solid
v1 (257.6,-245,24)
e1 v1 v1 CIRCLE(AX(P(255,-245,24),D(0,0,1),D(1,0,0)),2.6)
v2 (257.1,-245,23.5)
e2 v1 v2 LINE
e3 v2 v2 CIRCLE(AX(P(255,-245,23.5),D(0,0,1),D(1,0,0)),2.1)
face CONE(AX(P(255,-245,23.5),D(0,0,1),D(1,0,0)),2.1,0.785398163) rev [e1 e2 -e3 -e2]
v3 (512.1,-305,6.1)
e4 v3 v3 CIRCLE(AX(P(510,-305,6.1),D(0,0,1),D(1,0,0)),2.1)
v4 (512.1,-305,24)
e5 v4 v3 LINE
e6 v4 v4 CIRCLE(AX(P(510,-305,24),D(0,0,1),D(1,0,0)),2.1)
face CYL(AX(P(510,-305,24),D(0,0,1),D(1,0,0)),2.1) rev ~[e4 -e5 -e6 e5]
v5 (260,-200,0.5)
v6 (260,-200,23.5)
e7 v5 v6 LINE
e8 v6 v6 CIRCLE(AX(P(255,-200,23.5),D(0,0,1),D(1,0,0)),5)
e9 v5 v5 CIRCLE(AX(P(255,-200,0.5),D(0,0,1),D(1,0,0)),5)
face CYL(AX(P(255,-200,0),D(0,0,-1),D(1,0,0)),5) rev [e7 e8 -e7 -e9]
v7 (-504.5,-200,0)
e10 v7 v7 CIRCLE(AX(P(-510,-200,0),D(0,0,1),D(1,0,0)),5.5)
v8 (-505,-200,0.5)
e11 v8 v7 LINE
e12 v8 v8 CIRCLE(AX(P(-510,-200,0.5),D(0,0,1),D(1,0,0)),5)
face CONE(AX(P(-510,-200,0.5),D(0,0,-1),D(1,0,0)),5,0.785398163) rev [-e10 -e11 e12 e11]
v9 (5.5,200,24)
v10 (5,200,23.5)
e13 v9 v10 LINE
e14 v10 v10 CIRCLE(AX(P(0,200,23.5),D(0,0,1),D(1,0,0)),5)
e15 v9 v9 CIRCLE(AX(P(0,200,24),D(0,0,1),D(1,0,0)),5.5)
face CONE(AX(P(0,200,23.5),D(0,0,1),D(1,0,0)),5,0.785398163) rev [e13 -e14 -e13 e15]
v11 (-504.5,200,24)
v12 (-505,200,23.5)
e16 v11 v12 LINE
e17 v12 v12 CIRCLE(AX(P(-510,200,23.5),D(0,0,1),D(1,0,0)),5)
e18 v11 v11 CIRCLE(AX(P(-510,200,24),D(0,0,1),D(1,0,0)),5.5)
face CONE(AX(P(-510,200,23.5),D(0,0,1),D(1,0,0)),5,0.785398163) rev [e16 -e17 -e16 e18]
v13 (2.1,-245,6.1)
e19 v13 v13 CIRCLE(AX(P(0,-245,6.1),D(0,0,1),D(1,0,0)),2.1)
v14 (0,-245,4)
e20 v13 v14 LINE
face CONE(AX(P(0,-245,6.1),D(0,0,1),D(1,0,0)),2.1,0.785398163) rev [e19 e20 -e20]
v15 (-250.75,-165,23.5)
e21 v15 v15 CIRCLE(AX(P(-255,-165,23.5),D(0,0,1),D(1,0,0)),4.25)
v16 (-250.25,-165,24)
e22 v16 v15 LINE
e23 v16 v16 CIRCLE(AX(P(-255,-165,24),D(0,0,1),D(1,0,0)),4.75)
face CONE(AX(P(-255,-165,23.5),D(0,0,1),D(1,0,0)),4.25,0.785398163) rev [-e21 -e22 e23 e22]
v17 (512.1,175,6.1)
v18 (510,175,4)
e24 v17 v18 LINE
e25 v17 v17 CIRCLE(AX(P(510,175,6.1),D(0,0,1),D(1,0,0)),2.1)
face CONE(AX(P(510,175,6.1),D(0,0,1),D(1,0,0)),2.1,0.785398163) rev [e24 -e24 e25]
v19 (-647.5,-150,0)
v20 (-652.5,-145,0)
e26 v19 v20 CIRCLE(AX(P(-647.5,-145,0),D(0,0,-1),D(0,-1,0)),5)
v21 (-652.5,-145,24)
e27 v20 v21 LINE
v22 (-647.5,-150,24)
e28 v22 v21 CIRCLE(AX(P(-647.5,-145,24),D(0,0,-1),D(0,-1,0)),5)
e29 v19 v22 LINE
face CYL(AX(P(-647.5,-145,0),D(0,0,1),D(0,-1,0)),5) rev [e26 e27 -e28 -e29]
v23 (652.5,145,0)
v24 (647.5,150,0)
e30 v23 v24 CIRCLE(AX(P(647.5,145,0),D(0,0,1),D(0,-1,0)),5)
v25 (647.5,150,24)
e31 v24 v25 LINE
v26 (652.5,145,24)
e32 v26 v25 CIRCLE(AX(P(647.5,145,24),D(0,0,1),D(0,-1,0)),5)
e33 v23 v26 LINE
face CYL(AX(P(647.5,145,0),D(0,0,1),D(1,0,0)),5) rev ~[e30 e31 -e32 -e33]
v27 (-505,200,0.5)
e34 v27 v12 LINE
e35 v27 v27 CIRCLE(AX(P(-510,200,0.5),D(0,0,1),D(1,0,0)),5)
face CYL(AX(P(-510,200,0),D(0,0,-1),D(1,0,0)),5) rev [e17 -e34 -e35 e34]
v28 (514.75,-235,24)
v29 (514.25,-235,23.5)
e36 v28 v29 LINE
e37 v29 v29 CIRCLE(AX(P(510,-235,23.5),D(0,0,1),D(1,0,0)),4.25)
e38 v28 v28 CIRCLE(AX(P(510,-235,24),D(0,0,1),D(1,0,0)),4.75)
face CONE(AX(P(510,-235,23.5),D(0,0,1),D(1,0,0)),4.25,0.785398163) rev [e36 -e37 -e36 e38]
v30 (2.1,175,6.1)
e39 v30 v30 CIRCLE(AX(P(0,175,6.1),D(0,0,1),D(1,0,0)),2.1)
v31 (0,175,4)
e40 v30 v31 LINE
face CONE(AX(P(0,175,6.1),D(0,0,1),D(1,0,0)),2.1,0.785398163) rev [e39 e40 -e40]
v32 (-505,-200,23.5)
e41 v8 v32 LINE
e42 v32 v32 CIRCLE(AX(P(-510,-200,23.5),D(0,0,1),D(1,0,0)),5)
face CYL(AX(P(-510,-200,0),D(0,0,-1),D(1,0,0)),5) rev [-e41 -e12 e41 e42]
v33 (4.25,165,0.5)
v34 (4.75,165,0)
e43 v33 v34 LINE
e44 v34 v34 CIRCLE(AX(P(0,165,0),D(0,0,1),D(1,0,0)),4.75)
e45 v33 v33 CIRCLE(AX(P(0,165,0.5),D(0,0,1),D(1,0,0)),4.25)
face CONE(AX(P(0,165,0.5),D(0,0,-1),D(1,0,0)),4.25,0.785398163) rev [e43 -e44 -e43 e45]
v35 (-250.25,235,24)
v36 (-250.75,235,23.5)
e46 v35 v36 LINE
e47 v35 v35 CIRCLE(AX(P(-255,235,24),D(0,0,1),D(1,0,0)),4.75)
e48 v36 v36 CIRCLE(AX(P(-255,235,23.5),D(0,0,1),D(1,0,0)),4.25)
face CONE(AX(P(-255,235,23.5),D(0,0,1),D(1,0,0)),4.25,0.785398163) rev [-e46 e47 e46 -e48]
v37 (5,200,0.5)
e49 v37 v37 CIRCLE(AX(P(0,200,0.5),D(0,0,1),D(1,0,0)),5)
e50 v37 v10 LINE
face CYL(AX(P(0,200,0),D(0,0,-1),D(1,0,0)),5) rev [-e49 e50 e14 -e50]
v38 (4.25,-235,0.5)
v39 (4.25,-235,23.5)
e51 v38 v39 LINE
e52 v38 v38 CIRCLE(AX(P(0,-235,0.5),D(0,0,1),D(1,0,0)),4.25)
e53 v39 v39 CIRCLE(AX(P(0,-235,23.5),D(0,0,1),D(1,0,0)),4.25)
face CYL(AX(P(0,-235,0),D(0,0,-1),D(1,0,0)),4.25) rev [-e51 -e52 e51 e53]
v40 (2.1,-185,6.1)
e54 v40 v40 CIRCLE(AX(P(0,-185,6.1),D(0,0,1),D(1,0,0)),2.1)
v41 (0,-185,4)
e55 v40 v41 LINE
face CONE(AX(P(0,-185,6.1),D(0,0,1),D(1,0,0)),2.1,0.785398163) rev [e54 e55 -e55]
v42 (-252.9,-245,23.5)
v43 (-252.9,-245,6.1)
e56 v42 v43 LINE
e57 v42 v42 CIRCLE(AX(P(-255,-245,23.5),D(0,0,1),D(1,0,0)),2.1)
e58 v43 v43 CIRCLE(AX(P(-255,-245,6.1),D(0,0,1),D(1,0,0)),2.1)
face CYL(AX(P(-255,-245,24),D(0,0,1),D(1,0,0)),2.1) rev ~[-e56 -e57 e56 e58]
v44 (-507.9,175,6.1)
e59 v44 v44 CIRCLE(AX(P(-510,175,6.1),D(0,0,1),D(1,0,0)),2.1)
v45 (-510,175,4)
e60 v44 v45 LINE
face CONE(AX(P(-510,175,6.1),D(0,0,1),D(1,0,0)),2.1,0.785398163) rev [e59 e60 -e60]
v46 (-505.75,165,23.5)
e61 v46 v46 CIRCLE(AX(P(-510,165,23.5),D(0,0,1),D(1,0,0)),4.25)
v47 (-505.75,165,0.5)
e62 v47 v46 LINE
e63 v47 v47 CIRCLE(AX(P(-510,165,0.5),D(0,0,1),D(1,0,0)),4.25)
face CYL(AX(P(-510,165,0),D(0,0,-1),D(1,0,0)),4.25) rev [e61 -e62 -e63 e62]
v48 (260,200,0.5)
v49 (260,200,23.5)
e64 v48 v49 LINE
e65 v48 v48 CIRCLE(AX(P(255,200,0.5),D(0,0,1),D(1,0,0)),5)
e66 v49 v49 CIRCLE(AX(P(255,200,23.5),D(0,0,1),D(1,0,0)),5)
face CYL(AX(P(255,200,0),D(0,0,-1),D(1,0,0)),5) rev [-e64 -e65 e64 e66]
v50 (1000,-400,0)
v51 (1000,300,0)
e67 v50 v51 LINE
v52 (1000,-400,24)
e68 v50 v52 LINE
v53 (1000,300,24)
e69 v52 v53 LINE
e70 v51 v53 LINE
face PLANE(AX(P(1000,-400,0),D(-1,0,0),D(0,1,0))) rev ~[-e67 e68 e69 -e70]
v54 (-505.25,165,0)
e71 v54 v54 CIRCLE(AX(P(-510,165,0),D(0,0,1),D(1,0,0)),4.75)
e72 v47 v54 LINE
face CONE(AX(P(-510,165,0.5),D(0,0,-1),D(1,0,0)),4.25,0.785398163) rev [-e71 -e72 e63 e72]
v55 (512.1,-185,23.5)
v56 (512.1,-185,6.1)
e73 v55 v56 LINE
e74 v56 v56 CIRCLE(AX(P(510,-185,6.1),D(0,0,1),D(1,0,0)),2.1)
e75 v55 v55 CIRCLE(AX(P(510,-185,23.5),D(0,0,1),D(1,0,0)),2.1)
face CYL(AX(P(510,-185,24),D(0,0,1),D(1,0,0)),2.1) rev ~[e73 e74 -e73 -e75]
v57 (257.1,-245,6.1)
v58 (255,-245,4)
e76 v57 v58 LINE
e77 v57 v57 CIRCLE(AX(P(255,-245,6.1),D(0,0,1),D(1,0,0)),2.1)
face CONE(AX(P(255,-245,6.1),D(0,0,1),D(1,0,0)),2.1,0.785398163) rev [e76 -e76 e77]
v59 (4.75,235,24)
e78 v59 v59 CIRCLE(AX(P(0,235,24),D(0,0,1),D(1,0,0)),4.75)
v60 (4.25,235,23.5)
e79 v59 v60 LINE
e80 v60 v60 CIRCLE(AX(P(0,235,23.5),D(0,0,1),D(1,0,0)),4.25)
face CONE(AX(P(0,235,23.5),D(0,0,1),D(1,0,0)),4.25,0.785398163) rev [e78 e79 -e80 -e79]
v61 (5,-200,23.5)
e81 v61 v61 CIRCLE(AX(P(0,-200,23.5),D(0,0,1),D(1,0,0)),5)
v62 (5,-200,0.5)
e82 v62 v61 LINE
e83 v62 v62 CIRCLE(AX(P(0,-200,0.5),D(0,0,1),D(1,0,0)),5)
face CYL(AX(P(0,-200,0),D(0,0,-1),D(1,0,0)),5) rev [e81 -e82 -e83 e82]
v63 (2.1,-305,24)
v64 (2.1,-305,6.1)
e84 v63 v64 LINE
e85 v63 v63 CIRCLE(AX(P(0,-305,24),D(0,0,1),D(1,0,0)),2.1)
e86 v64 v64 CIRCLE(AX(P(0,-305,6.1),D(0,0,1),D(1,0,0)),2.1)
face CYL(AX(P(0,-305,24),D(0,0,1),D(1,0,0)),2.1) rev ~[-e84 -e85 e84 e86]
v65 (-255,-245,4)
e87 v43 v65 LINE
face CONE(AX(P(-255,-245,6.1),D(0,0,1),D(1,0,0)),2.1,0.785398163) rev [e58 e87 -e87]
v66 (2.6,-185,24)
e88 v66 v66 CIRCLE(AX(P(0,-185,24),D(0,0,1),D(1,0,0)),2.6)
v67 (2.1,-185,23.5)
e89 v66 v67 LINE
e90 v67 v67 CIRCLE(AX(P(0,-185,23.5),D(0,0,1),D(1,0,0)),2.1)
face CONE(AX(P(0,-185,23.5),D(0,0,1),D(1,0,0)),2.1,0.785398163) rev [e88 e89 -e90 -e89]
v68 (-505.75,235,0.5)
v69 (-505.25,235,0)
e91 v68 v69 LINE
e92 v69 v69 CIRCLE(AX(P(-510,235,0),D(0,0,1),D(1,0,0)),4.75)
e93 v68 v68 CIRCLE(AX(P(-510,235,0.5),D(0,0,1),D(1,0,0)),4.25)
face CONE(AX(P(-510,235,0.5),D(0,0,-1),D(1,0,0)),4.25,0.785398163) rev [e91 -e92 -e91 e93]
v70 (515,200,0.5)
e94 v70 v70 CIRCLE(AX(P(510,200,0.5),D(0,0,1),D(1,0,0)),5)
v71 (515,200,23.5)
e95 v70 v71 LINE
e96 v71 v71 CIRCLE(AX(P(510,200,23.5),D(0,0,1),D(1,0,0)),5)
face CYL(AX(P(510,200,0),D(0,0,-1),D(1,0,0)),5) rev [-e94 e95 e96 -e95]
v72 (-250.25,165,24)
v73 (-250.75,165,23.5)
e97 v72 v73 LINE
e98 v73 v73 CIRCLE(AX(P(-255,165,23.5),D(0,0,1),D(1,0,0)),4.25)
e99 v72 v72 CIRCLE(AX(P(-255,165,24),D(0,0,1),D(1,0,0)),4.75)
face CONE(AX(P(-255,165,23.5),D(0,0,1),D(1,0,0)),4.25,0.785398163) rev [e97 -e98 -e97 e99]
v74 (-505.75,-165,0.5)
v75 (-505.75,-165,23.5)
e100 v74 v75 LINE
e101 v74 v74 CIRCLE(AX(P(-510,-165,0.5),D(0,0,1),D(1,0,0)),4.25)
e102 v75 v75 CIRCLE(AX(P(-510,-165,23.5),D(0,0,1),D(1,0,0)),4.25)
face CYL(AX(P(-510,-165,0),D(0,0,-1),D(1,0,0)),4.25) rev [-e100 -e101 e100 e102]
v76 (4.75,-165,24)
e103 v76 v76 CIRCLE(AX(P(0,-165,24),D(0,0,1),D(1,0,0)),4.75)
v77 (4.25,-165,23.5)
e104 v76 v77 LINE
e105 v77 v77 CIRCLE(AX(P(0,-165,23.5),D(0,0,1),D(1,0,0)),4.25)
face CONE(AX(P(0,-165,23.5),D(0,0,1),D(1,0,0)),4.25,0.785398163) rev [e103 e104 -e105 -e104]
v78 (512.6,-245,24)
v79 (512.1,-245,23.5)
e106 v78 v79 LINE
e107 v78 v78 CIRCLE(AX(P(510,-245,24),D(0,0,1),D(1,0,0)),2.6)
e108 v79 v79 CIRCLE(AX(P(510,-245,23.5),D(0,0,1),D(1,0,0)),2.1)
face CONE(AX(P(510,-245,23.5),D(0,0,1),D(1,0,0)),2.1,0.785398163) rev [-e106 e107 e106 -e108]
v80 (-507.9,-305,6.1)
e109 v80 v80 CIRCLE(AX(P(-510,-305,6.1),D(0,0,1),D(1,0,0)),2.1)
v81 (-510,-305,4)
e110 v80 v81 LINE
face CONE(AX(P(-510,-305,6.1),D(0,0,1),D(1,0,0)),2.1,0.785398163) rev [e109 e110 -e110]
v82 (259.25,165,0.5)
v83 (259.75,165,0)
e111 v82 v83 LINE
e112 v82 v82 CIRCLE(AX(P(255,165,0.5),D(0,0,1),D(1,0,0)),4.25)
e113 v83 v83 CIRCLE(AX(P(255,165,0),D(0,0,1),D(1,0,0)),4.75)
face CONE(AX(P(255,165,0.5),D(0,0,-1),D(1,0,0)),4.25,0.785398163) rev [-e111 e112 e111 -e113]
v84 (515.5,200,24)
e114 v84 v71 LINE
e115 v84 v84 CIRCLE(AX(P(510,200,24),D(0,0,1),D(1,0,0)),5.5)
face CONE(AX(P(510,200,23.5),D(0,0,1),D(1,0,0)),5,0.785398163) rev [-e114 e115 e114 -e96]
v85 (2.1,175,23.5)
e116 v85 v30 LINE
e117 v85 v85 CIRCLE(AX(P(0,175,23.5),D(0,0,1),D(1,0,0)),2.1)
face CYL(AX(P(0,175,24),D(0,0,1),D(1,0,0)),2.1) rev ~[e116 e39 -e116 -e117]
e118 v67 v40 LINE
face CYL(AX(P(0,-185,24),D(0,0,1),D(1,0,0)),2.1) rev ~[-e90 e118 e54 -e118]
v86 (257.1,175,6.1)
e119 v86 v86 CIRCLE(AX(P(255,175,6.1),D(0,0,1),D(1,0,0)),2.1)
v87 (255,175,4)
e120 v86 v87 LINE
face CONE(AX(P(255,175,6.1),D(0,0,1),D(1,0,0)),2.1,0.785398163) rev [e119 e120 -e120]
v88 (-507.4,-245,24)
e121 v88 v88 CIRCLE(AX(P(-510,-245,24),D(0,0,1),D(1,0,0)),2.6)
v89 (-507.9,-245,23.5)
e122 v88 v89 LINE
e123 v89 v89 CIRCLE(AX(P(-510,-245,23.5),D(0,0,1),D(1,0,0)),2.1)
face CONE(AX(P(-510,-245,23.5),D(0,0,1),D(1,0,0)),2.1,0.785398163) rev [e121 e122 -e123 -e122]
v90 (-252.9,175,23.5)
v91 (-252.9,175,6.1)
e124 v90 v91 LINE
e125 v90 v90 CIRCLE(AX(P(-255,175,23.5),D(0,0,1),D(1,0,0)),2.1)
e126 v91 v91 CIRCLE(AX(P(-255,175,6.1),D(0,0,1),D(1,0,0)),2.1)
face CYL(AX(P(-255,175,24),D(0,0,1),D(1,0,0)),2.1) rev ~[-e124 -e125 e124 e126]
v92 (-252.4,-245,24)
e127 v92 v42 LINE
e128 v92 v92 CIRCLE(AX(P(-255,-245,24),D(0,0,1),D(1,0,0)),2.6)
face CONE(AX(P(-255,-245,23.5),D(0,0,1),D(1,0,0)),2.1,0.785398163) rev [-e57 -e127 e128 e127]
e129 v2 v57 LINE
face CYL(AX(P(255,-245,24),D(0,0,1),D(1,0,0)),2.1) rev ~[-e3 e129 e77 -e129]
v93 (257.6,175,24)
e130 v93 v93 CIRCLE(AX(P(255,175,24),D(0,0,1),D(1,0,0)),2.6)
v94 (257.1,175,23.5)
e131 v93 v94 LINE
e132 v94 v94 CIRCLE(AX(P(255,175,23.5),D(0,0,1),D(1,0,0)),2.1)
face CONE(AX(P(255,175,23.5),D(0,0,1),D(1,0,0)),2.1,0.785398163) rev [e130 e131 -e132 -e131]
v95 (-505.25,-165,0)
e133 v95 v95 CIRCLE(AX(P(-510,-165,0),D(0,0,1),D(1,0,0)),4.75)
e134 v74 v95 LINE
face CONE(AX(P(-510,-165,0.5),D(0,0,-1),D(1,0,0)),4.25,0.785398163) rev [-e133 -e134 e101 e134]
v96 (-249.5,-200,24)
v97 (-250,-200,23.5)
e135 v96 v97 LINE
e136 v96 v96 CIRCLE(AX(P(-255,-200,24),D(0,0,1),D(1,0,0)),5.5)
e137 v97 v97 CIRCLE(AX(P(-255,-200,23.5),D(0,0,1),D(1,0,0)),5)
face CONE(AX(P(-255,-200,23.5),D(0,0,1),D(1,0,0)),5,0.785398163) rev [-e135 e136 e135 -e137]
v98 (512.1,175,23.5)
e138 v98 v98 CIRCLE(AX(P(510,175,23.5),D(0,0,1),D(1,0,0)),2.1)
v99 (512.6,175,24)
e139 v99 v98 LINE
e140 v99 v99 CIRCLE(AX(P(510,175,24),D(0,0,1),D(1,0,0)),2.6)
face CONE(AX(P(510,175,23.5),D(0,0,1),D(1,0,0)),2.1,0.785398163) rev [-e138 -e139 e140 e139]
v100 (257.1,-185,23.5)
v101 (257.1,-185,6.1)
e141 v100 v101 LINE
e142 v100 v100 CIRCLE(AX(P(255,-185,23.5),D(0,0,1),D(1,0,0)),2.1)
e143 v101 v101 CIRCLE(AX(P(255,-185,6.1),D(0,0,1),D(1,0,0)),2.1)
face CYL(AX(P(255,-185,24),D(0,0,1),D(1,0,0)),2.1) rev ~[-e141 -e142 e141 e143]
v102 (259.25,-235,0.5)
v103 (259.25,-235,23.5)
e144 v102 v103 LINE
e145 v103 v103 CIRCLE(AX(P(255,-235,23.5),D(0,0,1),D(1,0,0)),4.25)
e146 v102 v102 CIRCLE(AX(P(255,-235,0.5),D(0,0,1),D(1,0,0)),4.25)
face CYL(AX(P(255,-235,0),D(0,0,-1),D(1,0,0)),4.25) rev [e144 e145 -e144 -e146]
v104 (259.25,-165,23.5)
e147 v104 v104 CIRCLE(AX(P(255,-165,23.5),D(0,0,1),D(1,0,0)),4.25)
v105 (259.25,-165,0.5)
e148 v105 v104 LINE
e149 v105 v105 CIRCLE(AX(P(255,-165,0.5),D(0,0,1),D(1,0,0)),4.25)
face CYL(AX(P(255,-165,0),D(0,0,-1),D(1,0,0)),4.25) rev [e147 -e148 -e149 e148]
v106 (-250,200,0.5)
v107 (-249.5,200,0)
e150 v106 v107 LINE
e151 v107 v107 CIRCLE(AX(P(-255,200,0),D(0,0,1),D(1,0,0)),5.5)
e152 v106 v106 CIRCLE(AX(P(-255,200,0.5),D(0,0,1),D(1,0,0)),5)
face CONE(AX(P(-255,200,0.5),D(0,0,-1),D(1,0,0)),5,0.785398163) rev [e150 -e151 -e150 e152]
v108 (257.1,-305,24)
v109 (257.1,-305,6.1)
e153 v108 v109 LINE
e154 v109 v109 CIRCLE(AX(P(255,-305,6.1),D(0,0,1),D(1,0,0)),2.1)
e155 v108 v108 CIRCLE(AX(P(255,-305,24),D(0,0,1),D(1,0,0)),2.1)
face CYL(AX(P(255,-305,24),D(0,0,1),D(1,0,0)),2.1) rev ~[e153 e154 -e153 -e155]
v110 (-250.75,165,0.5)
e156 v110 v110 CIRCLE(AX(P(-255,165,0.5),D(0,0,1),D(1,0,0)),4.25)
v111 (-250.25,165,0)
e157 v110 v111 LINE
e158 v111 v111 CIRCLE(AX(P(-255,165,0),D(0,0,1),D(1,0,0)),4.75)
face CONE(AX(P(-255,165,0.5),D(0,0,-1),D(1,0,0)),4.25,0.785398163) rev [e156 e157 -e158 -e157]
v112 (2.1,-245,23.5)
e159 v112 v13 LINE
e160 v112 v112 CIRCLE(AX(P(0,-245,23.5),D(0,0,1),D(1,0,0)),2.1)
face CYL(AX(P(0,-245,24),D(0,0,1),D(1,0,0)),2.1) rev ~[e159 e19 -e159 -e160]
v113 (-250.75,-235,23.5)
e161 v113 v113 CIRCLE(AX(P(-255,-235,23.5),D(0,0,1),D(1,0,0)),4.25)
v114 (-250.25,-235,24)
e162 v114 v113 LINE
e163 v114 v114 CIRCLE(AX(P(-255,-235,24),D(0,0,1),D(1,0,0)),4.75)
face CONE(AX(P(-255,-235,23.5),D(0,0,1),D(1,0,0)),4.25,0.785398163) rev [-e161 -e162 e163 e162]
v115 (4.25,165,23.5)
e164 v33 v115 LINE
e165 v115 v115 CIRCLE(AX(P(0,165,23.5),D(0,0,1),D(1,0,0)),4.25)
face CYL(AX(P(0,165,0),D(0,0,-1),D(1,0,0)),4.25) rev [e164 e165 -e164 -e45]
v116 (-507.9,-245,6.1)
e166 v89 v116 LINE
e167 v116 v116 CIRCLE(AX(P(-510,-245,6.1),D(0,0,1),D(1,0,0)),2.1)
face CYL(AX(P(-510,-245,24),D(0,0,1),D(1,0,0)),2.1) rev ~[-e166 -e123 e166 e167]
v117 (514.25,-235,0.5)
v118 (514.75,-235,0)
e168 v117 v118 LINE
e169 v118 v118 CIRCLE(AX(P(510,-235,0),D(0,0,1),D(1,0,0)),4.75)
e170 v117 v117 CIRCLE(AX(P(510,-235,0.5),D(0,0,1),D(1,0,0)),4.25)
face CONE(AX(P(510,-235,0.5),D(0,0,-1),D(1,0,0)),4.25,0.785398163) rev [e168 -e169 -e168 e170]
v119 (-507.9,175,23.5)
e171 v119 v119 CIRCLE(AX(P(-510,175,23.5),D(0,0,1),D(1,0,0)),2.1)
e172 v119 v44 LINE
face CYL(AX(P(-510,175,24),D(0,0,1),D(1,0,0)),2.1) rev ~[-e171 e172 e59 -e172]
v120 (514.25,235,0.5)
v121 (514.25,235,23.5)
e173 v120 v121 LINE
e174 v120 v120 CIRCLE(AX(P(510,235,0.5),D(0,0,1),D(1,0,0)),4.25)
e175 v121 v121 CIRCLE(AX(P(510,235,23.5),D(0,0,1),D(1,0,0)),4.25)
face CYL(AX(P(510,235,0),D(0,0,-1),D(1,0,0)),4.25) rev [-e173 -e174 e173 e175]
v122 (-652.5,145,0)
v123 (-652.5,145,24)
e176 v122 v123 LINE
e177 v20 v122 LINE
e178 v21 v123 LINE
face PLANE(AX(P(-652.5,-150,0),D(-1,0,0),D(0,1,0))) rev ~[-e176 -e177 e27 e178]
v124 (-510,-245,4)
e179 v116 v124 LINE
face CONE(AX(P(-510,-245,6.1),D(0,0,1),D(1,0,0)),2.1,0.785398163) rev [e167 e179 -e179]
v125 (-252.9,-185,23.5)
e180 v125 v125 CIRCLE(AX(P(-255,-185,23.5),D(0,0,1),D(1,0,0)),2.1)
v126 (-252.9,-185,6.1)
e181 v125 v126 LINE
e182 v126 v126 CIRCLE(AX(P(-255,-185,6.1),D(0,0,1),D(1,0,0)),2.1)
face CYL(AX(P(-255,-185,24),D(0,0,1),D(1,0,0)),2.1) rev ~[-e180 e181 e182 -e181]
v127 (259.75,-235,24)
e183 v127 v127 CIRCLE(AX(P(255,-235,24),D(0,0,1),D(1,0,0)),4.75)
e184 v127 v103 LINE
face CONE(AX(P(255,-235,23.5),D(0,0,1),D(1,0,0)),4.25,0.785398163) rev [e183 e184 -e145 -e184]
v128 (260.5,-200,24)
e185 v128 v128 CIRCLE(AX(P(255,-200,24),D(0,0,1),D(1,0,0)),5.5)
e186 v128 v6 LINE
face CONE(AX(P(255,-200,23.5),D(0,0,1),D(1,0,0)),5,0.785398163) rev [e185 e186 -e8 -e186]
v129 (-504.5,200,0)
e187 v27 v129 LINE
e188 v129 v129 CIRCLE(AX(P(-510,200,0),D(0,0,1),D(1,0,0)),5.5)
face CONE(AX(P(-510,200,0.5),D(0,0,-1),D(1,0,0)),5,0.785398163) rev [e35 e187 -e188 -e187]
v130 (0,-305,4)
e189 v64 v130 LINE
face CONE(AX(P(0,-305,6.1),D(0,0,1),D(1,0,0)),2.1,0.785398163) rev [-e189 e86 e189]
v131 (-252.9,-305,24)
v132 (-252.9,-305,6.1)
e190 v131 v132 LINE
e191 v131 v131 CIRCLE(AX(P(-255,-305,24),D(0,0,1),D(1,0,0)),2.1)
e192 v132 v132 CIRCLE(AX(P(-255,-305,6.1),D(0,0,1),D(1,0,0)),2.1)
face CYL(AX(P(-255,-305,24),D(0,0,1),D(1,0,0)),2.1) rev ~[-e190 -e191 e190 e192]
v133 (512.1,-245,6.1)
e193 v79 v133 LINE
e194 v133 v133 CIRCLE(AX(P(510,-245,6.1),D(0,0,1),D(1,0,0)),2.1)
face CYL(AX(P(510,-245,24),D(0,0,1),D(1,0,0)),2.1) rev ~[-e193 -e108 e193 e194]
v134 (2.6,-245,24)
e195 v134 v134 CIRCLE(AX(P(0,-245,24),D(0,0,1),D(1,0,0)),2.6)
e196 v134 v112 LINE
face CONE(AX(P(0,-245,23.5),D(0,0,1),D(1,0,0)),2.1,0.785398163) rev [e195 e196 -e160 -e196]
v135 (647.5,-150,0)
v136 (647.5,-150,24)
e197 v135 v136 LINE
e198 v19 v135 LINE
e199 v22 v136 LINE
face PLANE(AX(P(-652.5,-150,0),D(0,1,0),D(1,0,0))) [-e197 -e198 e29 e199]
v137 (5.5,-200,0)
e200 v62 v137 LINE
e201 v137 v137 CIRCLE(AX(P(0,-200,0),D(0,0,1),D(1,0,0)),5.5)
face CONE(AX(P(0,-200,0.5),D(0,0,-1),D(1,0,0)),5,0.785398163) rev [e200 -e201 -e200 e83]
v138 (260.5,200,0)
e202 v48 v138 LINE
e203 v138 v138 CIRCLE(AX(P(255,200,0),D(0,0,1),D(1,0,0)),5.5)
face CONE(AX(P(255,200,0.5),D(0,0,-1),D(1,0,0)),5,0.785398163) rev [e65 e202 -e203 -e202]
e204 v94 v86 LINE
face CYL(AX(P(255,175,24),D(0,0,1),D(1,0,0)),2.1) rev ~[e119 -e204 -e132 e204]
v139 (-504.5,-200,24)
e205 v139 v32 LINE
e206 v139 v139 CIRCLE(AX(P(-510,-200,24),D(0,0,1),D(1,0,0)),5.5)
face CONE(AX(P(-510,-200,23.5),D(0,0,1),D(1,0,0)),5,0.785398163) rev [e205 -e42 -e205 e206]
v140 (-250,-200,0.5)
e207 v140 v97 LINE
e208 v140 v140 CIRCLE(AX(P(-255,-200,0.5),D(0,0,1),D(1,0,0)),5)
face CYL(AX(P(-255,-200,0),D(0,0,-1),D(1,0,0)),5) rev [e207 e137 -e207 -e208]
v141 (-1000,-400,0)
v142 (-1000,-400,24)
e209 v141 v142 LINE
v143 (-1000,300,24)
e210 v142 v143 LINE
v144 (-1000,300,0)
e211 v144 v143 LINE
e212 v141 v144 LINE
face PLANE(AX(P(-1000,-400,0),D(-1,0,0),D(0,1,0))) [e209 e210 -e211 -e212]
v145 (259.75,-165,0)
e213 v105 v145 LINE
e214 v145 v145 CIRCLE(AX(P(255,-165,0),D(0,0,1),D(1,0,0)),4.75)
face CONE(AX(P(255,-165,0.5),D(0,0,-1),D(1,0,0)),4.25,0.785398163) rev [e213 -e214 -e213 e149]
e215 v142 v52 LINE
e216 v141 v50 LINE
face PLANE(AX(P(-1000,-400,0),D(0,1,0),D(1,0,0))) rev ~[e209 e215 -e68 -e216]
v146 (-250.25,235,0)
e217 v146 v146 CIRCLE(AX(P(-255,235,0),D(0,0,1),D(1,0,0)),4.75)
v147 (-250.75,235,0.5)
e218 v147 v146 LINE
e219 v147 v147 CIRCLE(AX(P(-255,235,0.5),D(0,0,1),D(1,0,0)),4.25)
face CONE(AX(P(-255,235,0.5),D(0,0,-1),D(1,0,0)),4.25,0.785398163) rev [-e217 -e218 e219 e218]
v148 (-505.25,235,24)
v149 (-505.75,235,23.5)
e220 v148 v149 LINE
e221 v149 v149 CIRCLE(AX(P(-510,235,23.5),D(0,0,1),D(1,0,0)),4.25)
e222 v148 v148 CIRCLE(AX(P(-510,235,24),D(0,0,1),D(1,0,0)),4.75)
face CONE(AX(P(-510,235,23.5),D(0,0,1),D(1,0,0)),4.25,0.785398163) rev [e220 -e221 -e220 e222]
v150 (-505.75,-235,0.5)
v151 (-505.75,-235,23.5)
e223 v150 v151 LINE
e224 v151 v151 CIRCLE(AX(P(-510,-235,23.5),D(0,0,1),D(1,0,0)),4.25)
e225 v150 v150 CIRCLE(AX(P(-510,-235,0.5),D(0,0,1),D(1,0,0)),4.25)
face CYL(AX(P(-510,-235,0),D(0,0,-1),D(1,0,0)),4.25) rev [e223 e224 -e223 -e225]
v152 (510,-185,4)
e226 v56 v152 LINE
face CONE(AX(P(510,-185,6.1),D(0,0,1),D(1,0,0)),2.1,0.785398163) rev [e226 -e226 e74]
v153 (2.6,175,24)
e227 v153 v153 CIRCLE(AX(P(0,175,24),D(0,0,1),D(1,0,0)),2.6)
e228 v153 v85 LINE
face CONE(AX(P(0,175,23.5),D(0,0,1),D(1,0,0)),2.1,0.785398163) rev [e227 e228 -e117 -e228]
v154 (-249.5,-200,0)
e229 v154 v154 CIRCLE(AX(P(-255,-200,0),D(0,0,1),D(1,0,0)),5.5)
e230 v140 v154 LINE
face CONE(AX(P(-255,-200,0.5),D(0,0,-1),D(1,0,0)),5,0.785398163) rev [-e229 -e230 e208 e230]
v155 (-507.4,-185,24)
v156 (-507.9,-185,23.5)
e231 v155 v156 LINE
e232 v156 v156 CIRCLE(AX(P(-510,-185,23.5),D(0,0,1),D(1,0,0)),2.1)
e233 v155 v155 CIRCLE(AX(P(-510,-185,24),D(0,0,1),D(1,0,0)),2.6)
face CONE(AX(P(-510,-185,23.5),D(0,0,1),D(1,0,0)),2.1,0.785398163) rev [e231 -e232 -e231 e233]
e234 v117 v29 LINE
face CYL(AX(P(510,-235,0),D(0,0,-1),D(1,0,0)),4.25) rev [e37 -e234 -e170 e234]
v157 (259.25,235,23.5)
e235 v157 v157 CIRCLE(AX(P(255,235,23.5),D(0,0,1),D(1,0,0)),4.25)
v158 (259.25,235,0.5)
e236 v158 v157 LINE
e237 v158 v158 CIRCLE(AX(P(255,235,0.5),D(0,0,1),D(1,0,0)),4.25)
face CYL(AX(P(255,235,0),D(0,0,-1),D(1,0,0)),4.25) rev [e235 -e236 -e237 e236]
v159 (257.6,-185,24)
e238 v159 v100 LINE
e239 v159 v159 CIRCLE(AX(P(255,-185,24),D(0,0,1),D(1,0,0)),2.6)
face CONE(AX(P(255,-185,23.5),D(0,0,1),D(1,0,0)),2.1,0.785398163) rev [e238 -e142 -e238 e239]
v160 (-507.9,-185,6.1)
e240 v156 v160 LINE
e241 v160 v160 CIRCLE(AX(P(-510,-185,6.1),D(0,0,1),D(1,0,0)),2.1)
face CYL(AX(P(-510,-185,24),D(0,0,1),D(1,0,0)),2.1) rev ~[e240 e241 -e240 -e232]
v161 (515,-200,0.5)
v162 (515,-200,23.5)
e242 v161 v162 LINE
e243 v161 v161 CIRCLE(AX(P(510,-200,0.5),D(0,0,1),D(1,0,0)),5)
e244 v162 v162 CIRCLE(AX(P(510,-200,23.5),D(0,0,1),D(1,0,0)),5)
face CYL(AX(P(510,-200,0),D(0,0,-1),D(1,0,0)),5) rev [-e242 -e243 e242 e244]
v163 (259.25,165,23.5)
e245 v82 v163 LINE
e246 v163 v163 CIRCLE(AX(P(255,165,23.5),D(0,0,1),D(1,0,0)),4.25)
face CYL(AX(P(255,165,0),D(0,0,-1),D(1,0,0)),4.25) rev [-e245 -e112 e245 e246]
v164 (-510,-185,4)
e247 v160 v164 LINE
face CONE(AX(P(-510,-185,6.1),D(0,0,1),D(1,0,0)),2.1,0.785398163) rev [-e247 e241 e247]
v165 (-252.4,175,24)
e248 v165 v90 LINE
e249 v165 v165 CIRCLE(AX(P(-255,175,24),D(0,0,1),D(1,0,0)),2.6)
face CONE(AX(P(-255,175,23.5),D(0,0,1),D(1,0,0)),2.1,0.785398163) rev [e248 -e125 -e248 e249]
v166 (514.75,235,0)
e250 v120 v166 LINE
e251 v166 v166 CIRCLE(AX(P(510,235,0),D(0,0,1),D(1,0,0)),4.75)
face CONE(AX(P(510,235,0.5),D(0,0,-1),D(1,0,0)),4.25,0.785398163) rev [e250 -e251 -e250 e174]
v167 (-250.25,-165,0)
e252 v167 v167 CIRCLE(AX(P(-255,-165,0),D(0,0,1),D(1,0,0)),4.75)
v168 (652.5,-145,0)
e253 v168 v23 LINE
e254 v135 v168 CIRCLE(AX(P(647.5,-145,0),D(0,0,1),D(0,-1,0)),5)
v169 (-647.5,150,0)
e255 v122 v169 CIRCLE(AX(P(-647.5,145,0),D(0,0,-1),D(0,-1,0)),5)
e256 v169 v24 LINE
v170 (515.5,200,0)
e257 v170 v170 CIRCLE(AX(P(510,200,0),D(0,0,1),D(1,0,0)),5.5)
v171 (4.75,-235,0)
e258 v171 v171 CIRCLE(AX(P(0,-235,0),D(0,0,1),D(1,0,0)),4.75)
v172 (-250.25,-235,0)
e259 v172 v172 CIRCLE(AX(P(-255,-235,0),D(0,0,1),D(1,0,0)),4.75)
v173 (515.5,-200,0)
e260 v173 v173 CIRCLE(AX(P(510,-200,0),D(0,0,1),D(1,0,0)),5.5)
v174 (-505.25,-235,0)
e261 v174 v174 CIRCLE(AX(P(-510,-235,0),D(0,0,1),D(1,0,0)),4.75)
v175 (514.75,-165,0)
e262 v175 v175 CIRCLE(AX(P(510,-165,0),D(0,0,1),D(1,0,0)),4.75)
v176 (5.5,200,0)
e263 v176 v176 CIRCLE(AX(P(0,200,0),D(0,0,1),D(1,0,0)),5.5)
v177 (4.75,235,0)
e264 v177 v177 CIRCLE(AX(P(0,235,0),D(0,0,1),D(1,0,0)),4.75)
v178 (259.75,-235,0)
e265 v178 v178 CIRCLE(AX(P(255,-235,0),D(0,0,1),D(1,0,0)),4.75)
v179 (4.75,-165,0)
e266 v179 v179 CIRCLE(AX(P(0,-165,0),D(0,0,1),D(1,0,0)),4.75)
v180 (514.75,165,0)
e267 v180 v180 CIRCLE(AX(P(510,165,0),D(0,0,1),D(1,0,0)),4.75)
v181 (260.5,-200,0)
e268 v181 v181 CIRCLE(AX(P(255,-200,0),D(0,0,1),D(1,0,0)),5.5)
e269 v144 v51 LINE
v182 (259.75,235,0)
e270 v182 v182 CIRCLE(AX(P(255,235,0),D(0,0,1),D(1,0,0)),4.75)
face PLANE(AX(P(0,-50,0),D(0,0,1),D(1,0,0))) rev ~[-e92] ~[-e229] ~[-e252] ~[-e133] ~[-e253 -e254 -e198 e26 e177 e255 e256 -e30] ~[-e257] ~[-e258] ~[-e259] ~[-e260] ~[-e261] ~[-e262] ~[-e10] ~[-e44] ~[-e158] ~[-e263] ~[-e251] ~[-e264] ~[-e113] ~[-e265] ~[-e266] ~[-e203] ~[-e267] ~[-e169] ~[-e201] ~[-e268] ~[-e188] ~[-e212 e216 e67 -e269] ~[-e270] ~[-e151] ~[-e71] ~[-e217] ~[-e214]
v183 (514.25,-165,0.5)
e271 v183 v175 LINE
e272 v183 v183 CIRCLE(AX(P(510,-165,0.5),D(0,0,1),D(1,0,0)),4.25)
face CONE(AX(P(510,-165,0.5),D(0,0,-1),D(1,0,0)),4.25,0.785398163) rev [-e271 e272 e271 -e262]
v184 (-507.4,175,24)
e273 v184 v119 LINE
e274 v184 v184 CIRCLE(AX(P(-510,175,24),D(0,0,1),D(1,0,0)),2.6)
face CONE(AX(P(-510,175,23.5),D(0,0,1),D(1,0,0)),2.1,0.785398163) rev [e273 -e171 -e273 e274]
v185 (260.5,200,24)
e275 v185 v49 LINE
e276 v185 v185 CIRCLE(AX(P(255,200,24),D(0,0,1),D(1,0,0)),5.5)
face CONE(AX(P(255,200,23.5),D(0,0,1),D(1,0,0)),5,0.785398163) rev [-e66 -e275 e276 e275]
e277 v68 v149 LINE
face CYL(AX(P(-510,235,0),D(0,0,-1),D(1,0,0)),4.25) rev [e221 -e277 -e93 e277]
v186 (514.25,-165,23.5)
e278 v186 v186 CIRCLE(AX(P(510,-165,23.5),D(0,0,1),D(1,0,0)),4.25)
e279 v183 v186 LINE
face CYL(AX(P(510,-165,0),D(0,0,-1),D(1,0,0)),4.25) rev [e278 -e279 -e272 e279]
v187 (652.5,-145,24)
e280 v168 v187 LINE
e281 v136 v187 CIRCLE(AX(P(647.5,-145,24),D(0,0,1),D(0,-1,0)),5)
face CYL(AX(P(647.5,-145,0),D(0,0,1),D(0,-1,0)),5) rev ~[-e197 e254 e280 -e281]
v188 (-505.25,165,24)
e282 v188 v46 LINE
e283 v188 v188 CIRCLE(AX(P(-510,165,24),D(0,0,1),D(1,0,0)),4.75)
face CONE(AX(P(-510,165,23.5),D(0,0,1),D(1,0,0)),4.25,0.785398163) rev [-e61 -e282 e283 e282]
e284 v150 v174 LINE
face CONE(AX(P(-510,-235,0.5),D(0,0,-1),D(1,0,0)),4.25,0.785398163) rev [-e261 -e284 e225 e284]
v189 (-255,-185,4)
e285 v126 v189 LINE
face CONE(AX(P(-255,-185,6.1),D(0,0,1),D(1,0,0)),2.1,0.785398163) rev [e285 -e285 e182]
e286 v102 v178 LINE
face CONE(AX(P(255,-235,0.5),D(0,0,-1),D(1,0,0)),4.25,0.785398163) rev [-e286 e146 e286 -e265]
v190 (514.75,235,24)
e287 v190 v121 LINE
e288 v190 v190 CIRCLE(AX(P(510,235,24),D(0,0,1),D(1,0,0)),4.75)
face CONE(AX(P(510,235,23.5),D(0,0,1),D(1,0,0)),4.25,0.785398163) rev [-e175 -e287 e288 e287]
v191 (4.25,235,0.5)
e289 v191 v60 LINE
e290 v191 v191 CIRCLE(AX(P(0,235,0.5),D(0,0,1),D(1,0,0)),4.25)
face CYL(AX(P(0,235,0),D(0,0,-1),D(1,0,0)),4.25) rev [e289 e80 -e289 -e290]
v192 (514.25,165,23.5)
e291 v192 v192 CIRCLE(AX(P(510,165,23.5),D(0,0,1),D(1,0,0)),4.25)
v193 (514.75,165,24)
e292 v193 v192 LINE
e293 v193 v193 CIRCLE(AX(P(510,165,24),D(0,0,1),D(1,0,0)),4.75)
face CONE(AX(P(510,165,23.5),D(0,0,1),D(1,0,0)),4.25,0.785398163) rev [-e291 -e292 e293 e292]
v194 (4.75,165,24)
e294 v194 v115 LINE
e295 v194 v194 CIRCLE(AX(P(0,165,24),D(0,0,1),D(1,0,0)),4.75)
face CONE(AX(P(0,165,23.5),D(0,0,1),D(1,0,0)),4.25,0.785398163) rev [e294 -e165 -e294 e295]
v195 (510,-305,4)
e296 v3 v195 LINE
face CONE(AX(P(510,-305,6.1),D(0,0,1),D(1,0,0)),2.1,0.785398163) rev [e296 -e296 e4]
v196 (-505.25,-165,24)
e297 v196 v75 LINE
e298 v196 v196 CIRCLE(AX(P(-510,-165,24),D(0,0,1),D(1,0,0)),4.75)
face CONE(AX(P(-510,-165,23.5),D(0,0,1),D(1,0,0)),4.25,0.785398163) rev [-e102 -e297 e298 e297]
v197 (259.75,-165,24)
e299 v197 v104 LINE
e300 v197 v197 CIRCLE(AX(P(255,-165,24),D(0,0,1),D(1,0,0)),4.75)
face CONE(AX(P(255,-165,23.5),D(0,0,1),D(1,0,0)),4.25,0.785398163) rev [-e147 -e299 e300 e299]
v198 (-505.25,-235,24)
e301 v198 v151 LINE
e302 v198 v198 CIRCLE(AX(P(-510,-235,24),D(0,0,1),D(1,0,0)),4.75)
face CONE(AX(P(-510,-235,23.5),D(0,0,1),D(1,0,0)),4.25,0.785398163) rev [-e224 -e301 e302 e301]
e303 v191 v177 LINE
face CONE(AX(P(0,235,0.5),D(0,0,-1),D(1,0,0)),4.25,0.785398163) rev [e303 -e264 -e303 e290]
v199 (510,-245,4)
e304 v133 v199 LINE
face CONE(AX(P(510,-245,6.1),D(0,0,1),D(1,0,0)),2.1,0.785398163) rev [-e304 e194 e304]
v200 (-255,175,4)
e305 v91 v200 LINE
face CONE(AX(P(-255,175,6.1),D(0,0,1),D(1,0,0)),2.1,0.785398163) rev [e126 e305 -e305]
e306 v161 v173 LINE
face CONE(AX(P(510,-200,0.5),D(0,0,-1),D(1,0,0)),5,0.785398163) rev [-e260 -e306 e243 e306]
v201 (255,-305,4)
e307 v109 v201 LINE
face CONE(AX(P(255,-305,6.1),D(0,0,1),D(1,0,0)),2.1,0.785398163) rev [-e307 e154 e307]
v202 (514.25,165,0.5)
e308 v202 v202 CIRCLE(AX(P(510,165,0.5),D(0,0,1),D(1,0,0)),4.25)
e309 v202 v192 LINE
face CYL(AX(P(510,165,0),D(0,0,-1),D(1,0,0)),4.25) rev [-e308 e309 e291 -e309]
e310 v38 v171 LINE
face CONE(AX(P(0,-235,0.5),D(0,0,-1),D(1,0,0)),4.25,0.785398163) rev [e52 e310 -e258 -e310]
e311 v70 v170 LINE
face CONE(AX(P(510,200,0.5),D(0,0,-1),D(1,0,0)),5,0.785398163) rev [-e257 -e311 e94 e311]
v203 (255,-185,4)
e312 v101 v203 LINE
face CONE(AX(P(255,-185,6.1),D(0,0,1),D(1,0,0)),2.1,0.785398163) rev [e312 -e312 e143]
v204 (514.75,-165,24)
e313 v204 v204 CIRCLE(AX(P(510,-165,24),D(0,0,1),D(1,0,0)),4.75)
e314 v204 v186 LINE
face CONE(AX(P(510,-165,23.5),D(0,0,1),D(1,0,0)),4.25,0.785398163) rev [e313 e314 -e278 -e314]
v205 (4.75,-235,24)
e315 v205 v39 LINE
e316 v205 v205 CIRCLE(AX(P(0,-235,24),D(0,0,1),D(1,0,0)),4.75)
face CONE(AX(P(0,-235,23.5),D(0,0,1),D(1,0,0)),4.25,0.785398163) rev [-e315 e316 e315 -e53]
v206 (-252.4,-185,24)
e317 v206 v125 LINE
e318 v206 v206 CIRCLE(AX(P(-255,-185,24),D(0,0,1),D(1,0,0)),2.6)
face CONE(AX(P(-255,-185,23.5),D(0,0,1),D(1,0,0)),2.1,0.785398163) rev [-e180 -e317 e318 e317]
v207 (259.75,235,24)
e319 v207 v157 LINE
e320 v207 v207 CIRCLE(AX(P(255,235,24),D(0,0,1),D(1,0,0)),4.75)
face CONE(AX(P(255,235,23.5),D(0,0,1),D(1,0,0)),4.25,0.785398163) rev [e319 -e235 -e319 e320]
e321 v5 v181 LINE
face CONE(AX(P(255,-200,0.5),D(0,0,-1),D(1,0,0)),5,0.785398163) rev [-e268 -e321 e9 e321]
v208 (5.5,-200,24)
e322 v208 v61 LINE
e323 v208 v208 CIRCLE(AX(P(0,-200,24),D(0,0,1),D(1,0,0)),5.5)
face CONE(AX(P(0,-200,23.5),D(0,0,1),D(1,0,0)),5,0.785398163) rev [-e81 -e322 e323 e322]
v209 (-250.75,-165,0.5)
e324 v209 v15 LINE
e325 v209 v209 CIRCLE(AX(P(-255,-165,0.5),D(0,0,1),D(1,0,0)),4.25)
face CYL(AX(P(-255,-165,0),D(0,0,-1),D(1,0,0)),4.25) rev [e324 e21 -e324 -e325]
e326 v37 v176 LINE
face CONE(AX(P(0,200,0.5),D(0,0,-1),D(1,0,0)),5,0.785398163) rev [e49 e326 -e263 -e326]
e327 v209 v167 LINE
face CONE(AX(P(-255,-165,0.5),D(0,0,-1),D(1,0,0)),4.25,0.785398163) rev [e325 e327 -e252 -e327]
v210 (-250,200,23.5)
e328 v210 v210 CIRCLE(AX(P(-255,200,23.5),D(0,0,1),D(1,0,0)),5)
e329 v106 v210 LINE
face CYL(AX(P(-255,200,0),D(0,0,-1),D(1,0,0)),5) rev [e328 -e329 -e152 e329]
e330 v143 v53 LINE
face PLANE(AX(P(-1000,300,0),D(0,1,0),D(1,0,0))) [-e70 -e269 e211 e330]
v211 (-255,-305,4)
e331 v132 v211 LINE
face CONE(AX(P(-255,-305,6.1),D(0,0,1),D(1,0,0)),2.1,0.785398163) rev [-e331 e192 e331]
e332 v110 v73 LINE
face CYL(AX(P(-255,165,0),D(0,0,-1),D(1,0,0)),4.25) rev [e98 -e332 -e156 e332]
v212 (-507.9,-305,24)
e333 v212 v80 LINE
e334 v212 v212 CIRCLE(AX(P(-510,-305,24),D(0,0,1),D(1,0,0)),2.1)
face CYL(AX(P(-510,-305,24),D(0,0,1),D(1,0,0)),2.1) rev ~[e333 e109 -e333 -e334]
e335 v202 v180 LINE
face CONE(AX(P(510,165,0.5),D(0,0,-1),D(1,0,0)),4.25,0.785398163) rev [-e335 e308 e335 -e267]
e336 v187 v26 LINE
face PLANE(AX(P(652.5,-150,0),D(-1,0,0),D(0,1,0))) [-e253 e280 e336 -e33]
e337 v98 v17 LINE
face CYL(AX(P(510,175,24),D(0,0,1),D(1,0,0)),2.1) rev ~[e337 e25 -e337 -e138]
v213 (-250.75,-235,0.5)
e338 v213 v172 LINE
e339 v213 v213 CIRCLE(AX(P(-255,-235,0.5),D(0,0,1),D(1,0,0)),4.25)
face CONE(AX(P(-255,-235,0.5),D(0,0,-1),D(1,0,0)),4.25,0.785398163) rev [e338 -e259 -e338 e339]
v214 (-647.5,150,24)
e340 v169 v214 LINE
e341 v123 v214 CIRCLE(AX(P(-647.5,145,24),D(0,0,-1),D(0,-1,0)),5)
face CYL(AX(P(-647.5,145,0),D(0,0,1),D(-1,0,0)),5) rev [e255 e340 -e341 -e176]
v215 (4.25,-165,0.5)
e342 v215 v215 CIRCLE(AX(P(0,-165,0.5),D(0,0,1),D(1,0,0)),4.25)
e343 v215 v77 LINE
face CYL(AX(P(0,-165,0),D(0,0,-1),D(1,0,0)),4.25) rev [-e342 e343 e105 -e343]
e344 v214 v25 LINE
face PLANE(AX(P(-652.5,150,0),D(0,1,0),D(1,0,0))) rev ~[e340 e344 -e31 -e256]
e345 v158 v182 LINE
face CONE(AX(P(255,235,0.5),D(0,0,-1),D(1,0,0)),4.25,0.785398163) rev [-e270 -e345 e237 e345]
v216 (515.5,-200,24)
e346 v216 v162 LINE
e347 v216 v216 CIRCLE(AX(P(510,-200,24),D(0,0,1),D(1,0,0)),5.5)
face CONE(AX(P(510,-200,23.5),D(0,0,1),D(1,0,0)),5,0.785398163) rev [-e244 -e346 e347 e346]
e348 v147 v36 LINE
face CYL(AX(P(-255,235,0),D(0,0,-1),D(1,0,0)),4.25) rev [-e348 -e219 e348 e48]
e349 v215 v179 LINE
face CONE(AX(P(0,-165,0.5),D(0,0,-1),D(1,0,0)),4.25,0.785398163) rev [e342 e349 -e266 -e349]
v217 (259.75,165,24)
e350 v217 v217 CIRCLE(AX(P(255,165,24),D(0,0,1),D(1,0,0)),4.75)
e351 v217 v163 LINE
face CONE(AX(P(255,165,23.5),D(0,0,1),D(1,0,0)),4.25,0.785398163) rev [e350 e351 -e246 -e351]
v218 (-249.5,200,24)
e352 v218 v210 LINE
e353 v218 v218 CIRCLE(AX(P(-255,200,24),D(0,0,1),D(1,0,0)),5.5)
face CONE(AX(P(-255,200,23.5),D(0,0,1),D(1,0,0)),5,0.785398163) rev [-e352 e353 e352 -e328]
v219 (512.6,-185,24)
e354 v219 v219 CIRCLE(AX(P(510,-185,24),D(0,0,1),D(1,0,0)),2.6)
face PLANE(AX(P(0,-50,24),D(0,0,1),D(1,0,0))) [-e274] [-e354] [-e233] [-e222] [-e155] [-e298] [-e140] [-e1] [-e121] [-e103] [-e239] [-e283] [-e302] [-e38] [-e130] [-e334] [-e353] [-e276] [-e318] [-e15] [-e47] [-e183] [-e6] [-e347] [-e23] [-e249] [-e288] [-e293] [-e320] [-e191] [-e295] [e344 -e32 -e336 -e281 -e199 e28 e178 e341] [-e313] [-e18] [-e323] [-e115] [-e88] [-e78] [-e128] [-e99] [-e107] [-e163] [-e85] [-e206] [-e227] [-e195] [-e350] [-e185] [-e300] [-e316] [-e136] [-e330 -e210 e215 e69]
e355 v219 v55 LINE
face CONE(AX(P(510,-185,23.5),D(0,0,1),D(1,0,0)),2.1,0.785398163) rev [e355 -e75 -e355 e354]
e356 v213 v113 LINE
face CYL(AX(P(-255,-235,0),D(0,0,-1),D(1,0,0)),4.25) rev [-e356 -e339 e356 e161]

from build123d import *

# Parameters (mm, degrees)
F0_W     = 2000
F0_H     = 700
F0_R     = 4.25
F0_R_2   = 5
F0_W_2   = 1305
F0_H_2   = 300
F1_DEPTH = 24
F2_R     = 5
F3_R     = 2.1
F4_DEPTH = 20
F5_SIZE  = 2.1
F6_SIZE  = 0.5


with BuildPart() as f1:
    # F0 (on Top) → F1 (new body)
    with BuildSketch(Plane.XY):
        with Locations((0, -50)):
            Rectangle(F0_W, F0_H)
        with Locations((-510, -235)):
            Circle(F0_R, mode=Mode.SUBTRACT)
        with Locations((-255, -235)):
            Circle(F0_R, mode=Mode.SUBTRACT)
        with Locations((-510, -200)):
            Circle(F0_R_2, mode=Mode.SUBTRACT)
        with Locations((-510, -165)):
            Circle(F0_R, mode=Mode.SUBTRACT)
        with Locations((-255, -200)):
            Circle(F0_R_2, mode=Mode.SUBTRACT)
        with Locations((-255, -165)):
            Circle(F0_R, mode=Mode.SUBTRACT)
        with Locations((0, -235)):
            Circle(F0_R, mode=Mode.SUBTRACT)
        with Locations((255, -235)):
            Circle(F0_R, mode=Mode.SUBTRACT)
        with Locations((510, -235)):
            Circle(F0_R, mode=Mode.SUBTRACT)
        with Locations((0, -200)):
            Circle(F0_R_2, mode=Mode.SUBTRACT)
        with Locations((0, -165)):
            Circle(F0_R, mode=Mode.SUBTRACT)
        with Locations((255, -200)):
            Circle(F0_R_2, mode=Mode.SUBTRACT)
        with Locations((255, -165)):
            Circle(F0_R, mode=Mode.SUBTRACT)
        with Locations((510, -200)):
            Circle(F0_R_2, mode=Mode.SUBTRACT)
        with Locations((510, -165)):
            Circle(F0_R, mode=Mode.SUBTRACT)
        with Locations((-510, 165)):
            Circle(F0_R, mode=Mode.SUBTRACT)
        with Locations((-510, 200)):
            Circle(F0_R_2, mode=Mode.SUBTRACT)
        with Locations((-510, 235)):
            Circle(F0_R, mode=Mode.SUBTRACT)
        with Locations((-255, 165)):
            Circle(F0_R, mode=Mode.SUBTRACT)
        with Locations((-255, 200)):
            Circle(F0_R_2, mode=Mode.SUBTRACT)
        with Locations((-255, 235)):
            Circle(F0_R, mode=Mode.SUBTRACT)
        Rectangle(F0_W_2, F0_H_2, mode=Mode.SUBTRACT)
        with Locations((0, 165)):
            Circle(F0_R, mode=Mode.SUBTRACT)
        with Locations((0, 200)):
            Circle(F0_R_2, mode=Mode.SUBTRACT)
        with Locations((255, 165)):
            Circle(F0_R, mode=Mode.SUBTRACT)
        with Locations((255, 200)):
            Circle(F0_R_2, mode=Mode.SUBTRACT)
        with Locations((0, 235)):
            Circle(F0_R, mode=Mode.SUBTRACT)
        with Locations((255, 235)):
            Circle(F0_R, mode=Mode.SUBTRACT)
        with Locations((510, 165)):
            Circle(F0_R, mode=Mode.SUBTRACT)
        with Locations((510, 200)):
            Circle(F0_R_2, mode=Mode.SUBTRACT)
        with Locations((510, 235)):
            Circle(F0_R, mode=Mode.SUBTRACT)
    extrude(amount=F1_DEPTH)

    # F2
    f2_edges = [f1.edges().sort_by_distance(p)[0] for p in [
        (-652.5, 150, 12),
        (652.5, 150, 12),
        (652.5, -150, 12),
        (-652.5, -150, 12),
    ]]
    fillet(f2_edges, radius=F2_R)

    # F3 (on face) → F4 (cut)
    with BuildSketch(Plane.XY.offset(24)):
        with Locations((-510, 175)):
            Circle(F3_R)
        with Locations((-255, 175)):
            Circle(F3_R)
        with Locations((0, 175)):
            Circle(F3_R)
        with Locations((0, -185)):
            Circle(F3_R)
        with Locations((-255, -185)):
            Circle(F3_R)
        with Locations((-510, -185)):
            Circle(F3_R)
        with Locations((0, -245)):
            Circle(F3_R)
        with Locations((-255, -245)):
            Circle(F3_R)
        with Locations((-510, -245)):
            Circle(F3_R)
        with Locations((255, -245)):
            Circle(F3_R)
        with Locations((510, -245)):
            Circle(F3_R)
        with Locations((255, -185)):
            Circle(F3_R)
        with Locations((510, -185)):
            Circle(F3_R)
        with Locations((255, 175)):
            Circle(F3_R)
        with Locations((510, 175)):
            Circle(F3_R)
        with Locations((-510, -305)):
            Circle(F3_R)
        with Locations((-255, -305)):
            Circle(F3_R)
        with Locations((0, -305)):
            Circle(F3_R)
        with Locations((510, -305)):
            Circle(F3_R)
        with Locations((255, -305)):
            Circle(F3_R)
    extrude(amount=-F4_DEPTH, mode=Mode.SUBTRACT)

    # F5
    f5_edges = [f1.edges().sort_by_distance(p)[0] for p in [
        (-512.1, 175, 4),
        (-257.1, 175, 4),
        (-2.1, 175, 4),
        (252.9, 175, 4),
        (507.9, 175, 4),
        (507.9, -185, 4),
        (507.9, -245, 4),
        (252.9, -245, 4),
        (252.9, -185, 4),
        (-2.1, -245, 4),
        (-2.1, -185, 4),
        (-257.1, -245, 4),
        (-257.1, -185, 4),
        (-512.1, -185, 4),
        (-512.1, -245, 4),
        (-512.1, -305, 4),
        (-257.1, -305, 4),
        (-2.1, -305, 4),
        (252.9, -305, 4),
        (507.9, -305, 4),
    ]]
    chamfer(f5_edges, length=F5_SIZE)

    # F6
    f6_edges = [f1.edges().sort_by_distance(p)[0] for p in [
        (-505.75, 235, 12),
        (-514.25, 235, 0),
        (-514.25, 235, 24),
        (-505, 200, 12),
        (-515, 200, 0),
        (-515, 200, 24),
        (-505.75, 165, 12),
        (-514.25, 165, 0),
        (-514.25, 165, 24),
        (-512.1, 175, 24),
        (-250.75, 235, 12),
        (-259.25, 235, 0),
        (-259.25, 235, 24),
        (-250, 200, 12),
        (-260, 200, 0),
        (-260, 200, 24),
        (-250.75, 165, 12),
        (-259.25, 165, 0),
        (-259.25, 165, 24),
        (-257.1, 175, 24),
        (4.25, 235, 12),
        (-4.25, 235, 0),
        (-4.25, 235, 24),
        (5, 200, 12),
        (-5, 200, 0),
        (-5, 200, 24),
        (4.25, 165, 12),
        (-4.25, 165, 0),
        (-4.25, 165, 24),
        (-2.1, 175, 24),
        (259.25, 235, 12),
        (250.75, 235, 0),
        (250.75, 235, 24),
        (260, 200, 12),
        (250, 200, 0),
        (250, 200, 24),
        (259.25, 165, 12),
        (250.75, 165, 0),
        (250.75, 165, 24),
        (252.9, 175, 24),
        (514.25, 235, 12),
        (505.75, 235, 0),
        (505.75, 235, 24),
        (515, 200, 12),
        (505, 200, 0),
        (505, 200, 24),
        (514.25, 165, 12),
        (505.75, 165, 0),
        (505.75, 165, 24),
        (507.9, 175, 24),
        (514.25, -165, 12),
        (505.75, -165, 0),
        (505.75, -165, 24),
        (507.9, -185, 24),
        (515, -200, 12),
        (505, -200, 0),
        (505, -200, 24),
        (507.9, -245, 24),
        (514.25, -235, 12),
        (505.75, -235, 0),
        (505.75, -235, 24),
        (252.9, -245, 24),
        (252.9, -185, 24),
        (259.25, -165, 12),
        (250.75, -165, 0),
        (250.75, -165, 24),
        (260, -200, 12),
        (250, -200, 0),
        (250, -200, 24),
        (259.25, -235, 12),
        (250.75, -235, 0),
        (250.75, -235, 24),
        (-2.1, -185, 24),
        (4.25, -165, 12),
        (-4.25, -165, 0),
        (-4.25, -165, 24),
        (5, -200, 12),
        (-5, -200, 0),
        (-5, -200, 24),
        (4.25, -235, 12),
        (-4.25, -235, 0),
        (-4.25, -235, 24),
        (-2.1, -245, 24),
        (-250.75, -235, 12),
        (-259.25, -235, 0),
        (-259.25, -235, 24),
        (-250, -200, 12),
        (-260, -200, 0),
        (-260, -200, 24),
        (-250.75, -165, 12),
        (-259.25, -165, 0),
        (-259.25, -165, 24),
        (-257.1, -185, 24),
        (-257.1, -245, 24),
        (-505.75, -235, 12),
        (-514.25, -235, 0),
        (-514.25, -235, 24),
        (-505, -200, 12),
        (-515, -200, 0),
        (-515, -200, 24),
        (-505.75, -165, 12),
        (-514.25, -165, 0),
        (-514.25, -165, 24),
        (-512.1, -185, 24),
        (-512.1, -245, 24),
    ]]
    chamfer(f6_edges, length=F6_SIZE)


solid = f1.part
